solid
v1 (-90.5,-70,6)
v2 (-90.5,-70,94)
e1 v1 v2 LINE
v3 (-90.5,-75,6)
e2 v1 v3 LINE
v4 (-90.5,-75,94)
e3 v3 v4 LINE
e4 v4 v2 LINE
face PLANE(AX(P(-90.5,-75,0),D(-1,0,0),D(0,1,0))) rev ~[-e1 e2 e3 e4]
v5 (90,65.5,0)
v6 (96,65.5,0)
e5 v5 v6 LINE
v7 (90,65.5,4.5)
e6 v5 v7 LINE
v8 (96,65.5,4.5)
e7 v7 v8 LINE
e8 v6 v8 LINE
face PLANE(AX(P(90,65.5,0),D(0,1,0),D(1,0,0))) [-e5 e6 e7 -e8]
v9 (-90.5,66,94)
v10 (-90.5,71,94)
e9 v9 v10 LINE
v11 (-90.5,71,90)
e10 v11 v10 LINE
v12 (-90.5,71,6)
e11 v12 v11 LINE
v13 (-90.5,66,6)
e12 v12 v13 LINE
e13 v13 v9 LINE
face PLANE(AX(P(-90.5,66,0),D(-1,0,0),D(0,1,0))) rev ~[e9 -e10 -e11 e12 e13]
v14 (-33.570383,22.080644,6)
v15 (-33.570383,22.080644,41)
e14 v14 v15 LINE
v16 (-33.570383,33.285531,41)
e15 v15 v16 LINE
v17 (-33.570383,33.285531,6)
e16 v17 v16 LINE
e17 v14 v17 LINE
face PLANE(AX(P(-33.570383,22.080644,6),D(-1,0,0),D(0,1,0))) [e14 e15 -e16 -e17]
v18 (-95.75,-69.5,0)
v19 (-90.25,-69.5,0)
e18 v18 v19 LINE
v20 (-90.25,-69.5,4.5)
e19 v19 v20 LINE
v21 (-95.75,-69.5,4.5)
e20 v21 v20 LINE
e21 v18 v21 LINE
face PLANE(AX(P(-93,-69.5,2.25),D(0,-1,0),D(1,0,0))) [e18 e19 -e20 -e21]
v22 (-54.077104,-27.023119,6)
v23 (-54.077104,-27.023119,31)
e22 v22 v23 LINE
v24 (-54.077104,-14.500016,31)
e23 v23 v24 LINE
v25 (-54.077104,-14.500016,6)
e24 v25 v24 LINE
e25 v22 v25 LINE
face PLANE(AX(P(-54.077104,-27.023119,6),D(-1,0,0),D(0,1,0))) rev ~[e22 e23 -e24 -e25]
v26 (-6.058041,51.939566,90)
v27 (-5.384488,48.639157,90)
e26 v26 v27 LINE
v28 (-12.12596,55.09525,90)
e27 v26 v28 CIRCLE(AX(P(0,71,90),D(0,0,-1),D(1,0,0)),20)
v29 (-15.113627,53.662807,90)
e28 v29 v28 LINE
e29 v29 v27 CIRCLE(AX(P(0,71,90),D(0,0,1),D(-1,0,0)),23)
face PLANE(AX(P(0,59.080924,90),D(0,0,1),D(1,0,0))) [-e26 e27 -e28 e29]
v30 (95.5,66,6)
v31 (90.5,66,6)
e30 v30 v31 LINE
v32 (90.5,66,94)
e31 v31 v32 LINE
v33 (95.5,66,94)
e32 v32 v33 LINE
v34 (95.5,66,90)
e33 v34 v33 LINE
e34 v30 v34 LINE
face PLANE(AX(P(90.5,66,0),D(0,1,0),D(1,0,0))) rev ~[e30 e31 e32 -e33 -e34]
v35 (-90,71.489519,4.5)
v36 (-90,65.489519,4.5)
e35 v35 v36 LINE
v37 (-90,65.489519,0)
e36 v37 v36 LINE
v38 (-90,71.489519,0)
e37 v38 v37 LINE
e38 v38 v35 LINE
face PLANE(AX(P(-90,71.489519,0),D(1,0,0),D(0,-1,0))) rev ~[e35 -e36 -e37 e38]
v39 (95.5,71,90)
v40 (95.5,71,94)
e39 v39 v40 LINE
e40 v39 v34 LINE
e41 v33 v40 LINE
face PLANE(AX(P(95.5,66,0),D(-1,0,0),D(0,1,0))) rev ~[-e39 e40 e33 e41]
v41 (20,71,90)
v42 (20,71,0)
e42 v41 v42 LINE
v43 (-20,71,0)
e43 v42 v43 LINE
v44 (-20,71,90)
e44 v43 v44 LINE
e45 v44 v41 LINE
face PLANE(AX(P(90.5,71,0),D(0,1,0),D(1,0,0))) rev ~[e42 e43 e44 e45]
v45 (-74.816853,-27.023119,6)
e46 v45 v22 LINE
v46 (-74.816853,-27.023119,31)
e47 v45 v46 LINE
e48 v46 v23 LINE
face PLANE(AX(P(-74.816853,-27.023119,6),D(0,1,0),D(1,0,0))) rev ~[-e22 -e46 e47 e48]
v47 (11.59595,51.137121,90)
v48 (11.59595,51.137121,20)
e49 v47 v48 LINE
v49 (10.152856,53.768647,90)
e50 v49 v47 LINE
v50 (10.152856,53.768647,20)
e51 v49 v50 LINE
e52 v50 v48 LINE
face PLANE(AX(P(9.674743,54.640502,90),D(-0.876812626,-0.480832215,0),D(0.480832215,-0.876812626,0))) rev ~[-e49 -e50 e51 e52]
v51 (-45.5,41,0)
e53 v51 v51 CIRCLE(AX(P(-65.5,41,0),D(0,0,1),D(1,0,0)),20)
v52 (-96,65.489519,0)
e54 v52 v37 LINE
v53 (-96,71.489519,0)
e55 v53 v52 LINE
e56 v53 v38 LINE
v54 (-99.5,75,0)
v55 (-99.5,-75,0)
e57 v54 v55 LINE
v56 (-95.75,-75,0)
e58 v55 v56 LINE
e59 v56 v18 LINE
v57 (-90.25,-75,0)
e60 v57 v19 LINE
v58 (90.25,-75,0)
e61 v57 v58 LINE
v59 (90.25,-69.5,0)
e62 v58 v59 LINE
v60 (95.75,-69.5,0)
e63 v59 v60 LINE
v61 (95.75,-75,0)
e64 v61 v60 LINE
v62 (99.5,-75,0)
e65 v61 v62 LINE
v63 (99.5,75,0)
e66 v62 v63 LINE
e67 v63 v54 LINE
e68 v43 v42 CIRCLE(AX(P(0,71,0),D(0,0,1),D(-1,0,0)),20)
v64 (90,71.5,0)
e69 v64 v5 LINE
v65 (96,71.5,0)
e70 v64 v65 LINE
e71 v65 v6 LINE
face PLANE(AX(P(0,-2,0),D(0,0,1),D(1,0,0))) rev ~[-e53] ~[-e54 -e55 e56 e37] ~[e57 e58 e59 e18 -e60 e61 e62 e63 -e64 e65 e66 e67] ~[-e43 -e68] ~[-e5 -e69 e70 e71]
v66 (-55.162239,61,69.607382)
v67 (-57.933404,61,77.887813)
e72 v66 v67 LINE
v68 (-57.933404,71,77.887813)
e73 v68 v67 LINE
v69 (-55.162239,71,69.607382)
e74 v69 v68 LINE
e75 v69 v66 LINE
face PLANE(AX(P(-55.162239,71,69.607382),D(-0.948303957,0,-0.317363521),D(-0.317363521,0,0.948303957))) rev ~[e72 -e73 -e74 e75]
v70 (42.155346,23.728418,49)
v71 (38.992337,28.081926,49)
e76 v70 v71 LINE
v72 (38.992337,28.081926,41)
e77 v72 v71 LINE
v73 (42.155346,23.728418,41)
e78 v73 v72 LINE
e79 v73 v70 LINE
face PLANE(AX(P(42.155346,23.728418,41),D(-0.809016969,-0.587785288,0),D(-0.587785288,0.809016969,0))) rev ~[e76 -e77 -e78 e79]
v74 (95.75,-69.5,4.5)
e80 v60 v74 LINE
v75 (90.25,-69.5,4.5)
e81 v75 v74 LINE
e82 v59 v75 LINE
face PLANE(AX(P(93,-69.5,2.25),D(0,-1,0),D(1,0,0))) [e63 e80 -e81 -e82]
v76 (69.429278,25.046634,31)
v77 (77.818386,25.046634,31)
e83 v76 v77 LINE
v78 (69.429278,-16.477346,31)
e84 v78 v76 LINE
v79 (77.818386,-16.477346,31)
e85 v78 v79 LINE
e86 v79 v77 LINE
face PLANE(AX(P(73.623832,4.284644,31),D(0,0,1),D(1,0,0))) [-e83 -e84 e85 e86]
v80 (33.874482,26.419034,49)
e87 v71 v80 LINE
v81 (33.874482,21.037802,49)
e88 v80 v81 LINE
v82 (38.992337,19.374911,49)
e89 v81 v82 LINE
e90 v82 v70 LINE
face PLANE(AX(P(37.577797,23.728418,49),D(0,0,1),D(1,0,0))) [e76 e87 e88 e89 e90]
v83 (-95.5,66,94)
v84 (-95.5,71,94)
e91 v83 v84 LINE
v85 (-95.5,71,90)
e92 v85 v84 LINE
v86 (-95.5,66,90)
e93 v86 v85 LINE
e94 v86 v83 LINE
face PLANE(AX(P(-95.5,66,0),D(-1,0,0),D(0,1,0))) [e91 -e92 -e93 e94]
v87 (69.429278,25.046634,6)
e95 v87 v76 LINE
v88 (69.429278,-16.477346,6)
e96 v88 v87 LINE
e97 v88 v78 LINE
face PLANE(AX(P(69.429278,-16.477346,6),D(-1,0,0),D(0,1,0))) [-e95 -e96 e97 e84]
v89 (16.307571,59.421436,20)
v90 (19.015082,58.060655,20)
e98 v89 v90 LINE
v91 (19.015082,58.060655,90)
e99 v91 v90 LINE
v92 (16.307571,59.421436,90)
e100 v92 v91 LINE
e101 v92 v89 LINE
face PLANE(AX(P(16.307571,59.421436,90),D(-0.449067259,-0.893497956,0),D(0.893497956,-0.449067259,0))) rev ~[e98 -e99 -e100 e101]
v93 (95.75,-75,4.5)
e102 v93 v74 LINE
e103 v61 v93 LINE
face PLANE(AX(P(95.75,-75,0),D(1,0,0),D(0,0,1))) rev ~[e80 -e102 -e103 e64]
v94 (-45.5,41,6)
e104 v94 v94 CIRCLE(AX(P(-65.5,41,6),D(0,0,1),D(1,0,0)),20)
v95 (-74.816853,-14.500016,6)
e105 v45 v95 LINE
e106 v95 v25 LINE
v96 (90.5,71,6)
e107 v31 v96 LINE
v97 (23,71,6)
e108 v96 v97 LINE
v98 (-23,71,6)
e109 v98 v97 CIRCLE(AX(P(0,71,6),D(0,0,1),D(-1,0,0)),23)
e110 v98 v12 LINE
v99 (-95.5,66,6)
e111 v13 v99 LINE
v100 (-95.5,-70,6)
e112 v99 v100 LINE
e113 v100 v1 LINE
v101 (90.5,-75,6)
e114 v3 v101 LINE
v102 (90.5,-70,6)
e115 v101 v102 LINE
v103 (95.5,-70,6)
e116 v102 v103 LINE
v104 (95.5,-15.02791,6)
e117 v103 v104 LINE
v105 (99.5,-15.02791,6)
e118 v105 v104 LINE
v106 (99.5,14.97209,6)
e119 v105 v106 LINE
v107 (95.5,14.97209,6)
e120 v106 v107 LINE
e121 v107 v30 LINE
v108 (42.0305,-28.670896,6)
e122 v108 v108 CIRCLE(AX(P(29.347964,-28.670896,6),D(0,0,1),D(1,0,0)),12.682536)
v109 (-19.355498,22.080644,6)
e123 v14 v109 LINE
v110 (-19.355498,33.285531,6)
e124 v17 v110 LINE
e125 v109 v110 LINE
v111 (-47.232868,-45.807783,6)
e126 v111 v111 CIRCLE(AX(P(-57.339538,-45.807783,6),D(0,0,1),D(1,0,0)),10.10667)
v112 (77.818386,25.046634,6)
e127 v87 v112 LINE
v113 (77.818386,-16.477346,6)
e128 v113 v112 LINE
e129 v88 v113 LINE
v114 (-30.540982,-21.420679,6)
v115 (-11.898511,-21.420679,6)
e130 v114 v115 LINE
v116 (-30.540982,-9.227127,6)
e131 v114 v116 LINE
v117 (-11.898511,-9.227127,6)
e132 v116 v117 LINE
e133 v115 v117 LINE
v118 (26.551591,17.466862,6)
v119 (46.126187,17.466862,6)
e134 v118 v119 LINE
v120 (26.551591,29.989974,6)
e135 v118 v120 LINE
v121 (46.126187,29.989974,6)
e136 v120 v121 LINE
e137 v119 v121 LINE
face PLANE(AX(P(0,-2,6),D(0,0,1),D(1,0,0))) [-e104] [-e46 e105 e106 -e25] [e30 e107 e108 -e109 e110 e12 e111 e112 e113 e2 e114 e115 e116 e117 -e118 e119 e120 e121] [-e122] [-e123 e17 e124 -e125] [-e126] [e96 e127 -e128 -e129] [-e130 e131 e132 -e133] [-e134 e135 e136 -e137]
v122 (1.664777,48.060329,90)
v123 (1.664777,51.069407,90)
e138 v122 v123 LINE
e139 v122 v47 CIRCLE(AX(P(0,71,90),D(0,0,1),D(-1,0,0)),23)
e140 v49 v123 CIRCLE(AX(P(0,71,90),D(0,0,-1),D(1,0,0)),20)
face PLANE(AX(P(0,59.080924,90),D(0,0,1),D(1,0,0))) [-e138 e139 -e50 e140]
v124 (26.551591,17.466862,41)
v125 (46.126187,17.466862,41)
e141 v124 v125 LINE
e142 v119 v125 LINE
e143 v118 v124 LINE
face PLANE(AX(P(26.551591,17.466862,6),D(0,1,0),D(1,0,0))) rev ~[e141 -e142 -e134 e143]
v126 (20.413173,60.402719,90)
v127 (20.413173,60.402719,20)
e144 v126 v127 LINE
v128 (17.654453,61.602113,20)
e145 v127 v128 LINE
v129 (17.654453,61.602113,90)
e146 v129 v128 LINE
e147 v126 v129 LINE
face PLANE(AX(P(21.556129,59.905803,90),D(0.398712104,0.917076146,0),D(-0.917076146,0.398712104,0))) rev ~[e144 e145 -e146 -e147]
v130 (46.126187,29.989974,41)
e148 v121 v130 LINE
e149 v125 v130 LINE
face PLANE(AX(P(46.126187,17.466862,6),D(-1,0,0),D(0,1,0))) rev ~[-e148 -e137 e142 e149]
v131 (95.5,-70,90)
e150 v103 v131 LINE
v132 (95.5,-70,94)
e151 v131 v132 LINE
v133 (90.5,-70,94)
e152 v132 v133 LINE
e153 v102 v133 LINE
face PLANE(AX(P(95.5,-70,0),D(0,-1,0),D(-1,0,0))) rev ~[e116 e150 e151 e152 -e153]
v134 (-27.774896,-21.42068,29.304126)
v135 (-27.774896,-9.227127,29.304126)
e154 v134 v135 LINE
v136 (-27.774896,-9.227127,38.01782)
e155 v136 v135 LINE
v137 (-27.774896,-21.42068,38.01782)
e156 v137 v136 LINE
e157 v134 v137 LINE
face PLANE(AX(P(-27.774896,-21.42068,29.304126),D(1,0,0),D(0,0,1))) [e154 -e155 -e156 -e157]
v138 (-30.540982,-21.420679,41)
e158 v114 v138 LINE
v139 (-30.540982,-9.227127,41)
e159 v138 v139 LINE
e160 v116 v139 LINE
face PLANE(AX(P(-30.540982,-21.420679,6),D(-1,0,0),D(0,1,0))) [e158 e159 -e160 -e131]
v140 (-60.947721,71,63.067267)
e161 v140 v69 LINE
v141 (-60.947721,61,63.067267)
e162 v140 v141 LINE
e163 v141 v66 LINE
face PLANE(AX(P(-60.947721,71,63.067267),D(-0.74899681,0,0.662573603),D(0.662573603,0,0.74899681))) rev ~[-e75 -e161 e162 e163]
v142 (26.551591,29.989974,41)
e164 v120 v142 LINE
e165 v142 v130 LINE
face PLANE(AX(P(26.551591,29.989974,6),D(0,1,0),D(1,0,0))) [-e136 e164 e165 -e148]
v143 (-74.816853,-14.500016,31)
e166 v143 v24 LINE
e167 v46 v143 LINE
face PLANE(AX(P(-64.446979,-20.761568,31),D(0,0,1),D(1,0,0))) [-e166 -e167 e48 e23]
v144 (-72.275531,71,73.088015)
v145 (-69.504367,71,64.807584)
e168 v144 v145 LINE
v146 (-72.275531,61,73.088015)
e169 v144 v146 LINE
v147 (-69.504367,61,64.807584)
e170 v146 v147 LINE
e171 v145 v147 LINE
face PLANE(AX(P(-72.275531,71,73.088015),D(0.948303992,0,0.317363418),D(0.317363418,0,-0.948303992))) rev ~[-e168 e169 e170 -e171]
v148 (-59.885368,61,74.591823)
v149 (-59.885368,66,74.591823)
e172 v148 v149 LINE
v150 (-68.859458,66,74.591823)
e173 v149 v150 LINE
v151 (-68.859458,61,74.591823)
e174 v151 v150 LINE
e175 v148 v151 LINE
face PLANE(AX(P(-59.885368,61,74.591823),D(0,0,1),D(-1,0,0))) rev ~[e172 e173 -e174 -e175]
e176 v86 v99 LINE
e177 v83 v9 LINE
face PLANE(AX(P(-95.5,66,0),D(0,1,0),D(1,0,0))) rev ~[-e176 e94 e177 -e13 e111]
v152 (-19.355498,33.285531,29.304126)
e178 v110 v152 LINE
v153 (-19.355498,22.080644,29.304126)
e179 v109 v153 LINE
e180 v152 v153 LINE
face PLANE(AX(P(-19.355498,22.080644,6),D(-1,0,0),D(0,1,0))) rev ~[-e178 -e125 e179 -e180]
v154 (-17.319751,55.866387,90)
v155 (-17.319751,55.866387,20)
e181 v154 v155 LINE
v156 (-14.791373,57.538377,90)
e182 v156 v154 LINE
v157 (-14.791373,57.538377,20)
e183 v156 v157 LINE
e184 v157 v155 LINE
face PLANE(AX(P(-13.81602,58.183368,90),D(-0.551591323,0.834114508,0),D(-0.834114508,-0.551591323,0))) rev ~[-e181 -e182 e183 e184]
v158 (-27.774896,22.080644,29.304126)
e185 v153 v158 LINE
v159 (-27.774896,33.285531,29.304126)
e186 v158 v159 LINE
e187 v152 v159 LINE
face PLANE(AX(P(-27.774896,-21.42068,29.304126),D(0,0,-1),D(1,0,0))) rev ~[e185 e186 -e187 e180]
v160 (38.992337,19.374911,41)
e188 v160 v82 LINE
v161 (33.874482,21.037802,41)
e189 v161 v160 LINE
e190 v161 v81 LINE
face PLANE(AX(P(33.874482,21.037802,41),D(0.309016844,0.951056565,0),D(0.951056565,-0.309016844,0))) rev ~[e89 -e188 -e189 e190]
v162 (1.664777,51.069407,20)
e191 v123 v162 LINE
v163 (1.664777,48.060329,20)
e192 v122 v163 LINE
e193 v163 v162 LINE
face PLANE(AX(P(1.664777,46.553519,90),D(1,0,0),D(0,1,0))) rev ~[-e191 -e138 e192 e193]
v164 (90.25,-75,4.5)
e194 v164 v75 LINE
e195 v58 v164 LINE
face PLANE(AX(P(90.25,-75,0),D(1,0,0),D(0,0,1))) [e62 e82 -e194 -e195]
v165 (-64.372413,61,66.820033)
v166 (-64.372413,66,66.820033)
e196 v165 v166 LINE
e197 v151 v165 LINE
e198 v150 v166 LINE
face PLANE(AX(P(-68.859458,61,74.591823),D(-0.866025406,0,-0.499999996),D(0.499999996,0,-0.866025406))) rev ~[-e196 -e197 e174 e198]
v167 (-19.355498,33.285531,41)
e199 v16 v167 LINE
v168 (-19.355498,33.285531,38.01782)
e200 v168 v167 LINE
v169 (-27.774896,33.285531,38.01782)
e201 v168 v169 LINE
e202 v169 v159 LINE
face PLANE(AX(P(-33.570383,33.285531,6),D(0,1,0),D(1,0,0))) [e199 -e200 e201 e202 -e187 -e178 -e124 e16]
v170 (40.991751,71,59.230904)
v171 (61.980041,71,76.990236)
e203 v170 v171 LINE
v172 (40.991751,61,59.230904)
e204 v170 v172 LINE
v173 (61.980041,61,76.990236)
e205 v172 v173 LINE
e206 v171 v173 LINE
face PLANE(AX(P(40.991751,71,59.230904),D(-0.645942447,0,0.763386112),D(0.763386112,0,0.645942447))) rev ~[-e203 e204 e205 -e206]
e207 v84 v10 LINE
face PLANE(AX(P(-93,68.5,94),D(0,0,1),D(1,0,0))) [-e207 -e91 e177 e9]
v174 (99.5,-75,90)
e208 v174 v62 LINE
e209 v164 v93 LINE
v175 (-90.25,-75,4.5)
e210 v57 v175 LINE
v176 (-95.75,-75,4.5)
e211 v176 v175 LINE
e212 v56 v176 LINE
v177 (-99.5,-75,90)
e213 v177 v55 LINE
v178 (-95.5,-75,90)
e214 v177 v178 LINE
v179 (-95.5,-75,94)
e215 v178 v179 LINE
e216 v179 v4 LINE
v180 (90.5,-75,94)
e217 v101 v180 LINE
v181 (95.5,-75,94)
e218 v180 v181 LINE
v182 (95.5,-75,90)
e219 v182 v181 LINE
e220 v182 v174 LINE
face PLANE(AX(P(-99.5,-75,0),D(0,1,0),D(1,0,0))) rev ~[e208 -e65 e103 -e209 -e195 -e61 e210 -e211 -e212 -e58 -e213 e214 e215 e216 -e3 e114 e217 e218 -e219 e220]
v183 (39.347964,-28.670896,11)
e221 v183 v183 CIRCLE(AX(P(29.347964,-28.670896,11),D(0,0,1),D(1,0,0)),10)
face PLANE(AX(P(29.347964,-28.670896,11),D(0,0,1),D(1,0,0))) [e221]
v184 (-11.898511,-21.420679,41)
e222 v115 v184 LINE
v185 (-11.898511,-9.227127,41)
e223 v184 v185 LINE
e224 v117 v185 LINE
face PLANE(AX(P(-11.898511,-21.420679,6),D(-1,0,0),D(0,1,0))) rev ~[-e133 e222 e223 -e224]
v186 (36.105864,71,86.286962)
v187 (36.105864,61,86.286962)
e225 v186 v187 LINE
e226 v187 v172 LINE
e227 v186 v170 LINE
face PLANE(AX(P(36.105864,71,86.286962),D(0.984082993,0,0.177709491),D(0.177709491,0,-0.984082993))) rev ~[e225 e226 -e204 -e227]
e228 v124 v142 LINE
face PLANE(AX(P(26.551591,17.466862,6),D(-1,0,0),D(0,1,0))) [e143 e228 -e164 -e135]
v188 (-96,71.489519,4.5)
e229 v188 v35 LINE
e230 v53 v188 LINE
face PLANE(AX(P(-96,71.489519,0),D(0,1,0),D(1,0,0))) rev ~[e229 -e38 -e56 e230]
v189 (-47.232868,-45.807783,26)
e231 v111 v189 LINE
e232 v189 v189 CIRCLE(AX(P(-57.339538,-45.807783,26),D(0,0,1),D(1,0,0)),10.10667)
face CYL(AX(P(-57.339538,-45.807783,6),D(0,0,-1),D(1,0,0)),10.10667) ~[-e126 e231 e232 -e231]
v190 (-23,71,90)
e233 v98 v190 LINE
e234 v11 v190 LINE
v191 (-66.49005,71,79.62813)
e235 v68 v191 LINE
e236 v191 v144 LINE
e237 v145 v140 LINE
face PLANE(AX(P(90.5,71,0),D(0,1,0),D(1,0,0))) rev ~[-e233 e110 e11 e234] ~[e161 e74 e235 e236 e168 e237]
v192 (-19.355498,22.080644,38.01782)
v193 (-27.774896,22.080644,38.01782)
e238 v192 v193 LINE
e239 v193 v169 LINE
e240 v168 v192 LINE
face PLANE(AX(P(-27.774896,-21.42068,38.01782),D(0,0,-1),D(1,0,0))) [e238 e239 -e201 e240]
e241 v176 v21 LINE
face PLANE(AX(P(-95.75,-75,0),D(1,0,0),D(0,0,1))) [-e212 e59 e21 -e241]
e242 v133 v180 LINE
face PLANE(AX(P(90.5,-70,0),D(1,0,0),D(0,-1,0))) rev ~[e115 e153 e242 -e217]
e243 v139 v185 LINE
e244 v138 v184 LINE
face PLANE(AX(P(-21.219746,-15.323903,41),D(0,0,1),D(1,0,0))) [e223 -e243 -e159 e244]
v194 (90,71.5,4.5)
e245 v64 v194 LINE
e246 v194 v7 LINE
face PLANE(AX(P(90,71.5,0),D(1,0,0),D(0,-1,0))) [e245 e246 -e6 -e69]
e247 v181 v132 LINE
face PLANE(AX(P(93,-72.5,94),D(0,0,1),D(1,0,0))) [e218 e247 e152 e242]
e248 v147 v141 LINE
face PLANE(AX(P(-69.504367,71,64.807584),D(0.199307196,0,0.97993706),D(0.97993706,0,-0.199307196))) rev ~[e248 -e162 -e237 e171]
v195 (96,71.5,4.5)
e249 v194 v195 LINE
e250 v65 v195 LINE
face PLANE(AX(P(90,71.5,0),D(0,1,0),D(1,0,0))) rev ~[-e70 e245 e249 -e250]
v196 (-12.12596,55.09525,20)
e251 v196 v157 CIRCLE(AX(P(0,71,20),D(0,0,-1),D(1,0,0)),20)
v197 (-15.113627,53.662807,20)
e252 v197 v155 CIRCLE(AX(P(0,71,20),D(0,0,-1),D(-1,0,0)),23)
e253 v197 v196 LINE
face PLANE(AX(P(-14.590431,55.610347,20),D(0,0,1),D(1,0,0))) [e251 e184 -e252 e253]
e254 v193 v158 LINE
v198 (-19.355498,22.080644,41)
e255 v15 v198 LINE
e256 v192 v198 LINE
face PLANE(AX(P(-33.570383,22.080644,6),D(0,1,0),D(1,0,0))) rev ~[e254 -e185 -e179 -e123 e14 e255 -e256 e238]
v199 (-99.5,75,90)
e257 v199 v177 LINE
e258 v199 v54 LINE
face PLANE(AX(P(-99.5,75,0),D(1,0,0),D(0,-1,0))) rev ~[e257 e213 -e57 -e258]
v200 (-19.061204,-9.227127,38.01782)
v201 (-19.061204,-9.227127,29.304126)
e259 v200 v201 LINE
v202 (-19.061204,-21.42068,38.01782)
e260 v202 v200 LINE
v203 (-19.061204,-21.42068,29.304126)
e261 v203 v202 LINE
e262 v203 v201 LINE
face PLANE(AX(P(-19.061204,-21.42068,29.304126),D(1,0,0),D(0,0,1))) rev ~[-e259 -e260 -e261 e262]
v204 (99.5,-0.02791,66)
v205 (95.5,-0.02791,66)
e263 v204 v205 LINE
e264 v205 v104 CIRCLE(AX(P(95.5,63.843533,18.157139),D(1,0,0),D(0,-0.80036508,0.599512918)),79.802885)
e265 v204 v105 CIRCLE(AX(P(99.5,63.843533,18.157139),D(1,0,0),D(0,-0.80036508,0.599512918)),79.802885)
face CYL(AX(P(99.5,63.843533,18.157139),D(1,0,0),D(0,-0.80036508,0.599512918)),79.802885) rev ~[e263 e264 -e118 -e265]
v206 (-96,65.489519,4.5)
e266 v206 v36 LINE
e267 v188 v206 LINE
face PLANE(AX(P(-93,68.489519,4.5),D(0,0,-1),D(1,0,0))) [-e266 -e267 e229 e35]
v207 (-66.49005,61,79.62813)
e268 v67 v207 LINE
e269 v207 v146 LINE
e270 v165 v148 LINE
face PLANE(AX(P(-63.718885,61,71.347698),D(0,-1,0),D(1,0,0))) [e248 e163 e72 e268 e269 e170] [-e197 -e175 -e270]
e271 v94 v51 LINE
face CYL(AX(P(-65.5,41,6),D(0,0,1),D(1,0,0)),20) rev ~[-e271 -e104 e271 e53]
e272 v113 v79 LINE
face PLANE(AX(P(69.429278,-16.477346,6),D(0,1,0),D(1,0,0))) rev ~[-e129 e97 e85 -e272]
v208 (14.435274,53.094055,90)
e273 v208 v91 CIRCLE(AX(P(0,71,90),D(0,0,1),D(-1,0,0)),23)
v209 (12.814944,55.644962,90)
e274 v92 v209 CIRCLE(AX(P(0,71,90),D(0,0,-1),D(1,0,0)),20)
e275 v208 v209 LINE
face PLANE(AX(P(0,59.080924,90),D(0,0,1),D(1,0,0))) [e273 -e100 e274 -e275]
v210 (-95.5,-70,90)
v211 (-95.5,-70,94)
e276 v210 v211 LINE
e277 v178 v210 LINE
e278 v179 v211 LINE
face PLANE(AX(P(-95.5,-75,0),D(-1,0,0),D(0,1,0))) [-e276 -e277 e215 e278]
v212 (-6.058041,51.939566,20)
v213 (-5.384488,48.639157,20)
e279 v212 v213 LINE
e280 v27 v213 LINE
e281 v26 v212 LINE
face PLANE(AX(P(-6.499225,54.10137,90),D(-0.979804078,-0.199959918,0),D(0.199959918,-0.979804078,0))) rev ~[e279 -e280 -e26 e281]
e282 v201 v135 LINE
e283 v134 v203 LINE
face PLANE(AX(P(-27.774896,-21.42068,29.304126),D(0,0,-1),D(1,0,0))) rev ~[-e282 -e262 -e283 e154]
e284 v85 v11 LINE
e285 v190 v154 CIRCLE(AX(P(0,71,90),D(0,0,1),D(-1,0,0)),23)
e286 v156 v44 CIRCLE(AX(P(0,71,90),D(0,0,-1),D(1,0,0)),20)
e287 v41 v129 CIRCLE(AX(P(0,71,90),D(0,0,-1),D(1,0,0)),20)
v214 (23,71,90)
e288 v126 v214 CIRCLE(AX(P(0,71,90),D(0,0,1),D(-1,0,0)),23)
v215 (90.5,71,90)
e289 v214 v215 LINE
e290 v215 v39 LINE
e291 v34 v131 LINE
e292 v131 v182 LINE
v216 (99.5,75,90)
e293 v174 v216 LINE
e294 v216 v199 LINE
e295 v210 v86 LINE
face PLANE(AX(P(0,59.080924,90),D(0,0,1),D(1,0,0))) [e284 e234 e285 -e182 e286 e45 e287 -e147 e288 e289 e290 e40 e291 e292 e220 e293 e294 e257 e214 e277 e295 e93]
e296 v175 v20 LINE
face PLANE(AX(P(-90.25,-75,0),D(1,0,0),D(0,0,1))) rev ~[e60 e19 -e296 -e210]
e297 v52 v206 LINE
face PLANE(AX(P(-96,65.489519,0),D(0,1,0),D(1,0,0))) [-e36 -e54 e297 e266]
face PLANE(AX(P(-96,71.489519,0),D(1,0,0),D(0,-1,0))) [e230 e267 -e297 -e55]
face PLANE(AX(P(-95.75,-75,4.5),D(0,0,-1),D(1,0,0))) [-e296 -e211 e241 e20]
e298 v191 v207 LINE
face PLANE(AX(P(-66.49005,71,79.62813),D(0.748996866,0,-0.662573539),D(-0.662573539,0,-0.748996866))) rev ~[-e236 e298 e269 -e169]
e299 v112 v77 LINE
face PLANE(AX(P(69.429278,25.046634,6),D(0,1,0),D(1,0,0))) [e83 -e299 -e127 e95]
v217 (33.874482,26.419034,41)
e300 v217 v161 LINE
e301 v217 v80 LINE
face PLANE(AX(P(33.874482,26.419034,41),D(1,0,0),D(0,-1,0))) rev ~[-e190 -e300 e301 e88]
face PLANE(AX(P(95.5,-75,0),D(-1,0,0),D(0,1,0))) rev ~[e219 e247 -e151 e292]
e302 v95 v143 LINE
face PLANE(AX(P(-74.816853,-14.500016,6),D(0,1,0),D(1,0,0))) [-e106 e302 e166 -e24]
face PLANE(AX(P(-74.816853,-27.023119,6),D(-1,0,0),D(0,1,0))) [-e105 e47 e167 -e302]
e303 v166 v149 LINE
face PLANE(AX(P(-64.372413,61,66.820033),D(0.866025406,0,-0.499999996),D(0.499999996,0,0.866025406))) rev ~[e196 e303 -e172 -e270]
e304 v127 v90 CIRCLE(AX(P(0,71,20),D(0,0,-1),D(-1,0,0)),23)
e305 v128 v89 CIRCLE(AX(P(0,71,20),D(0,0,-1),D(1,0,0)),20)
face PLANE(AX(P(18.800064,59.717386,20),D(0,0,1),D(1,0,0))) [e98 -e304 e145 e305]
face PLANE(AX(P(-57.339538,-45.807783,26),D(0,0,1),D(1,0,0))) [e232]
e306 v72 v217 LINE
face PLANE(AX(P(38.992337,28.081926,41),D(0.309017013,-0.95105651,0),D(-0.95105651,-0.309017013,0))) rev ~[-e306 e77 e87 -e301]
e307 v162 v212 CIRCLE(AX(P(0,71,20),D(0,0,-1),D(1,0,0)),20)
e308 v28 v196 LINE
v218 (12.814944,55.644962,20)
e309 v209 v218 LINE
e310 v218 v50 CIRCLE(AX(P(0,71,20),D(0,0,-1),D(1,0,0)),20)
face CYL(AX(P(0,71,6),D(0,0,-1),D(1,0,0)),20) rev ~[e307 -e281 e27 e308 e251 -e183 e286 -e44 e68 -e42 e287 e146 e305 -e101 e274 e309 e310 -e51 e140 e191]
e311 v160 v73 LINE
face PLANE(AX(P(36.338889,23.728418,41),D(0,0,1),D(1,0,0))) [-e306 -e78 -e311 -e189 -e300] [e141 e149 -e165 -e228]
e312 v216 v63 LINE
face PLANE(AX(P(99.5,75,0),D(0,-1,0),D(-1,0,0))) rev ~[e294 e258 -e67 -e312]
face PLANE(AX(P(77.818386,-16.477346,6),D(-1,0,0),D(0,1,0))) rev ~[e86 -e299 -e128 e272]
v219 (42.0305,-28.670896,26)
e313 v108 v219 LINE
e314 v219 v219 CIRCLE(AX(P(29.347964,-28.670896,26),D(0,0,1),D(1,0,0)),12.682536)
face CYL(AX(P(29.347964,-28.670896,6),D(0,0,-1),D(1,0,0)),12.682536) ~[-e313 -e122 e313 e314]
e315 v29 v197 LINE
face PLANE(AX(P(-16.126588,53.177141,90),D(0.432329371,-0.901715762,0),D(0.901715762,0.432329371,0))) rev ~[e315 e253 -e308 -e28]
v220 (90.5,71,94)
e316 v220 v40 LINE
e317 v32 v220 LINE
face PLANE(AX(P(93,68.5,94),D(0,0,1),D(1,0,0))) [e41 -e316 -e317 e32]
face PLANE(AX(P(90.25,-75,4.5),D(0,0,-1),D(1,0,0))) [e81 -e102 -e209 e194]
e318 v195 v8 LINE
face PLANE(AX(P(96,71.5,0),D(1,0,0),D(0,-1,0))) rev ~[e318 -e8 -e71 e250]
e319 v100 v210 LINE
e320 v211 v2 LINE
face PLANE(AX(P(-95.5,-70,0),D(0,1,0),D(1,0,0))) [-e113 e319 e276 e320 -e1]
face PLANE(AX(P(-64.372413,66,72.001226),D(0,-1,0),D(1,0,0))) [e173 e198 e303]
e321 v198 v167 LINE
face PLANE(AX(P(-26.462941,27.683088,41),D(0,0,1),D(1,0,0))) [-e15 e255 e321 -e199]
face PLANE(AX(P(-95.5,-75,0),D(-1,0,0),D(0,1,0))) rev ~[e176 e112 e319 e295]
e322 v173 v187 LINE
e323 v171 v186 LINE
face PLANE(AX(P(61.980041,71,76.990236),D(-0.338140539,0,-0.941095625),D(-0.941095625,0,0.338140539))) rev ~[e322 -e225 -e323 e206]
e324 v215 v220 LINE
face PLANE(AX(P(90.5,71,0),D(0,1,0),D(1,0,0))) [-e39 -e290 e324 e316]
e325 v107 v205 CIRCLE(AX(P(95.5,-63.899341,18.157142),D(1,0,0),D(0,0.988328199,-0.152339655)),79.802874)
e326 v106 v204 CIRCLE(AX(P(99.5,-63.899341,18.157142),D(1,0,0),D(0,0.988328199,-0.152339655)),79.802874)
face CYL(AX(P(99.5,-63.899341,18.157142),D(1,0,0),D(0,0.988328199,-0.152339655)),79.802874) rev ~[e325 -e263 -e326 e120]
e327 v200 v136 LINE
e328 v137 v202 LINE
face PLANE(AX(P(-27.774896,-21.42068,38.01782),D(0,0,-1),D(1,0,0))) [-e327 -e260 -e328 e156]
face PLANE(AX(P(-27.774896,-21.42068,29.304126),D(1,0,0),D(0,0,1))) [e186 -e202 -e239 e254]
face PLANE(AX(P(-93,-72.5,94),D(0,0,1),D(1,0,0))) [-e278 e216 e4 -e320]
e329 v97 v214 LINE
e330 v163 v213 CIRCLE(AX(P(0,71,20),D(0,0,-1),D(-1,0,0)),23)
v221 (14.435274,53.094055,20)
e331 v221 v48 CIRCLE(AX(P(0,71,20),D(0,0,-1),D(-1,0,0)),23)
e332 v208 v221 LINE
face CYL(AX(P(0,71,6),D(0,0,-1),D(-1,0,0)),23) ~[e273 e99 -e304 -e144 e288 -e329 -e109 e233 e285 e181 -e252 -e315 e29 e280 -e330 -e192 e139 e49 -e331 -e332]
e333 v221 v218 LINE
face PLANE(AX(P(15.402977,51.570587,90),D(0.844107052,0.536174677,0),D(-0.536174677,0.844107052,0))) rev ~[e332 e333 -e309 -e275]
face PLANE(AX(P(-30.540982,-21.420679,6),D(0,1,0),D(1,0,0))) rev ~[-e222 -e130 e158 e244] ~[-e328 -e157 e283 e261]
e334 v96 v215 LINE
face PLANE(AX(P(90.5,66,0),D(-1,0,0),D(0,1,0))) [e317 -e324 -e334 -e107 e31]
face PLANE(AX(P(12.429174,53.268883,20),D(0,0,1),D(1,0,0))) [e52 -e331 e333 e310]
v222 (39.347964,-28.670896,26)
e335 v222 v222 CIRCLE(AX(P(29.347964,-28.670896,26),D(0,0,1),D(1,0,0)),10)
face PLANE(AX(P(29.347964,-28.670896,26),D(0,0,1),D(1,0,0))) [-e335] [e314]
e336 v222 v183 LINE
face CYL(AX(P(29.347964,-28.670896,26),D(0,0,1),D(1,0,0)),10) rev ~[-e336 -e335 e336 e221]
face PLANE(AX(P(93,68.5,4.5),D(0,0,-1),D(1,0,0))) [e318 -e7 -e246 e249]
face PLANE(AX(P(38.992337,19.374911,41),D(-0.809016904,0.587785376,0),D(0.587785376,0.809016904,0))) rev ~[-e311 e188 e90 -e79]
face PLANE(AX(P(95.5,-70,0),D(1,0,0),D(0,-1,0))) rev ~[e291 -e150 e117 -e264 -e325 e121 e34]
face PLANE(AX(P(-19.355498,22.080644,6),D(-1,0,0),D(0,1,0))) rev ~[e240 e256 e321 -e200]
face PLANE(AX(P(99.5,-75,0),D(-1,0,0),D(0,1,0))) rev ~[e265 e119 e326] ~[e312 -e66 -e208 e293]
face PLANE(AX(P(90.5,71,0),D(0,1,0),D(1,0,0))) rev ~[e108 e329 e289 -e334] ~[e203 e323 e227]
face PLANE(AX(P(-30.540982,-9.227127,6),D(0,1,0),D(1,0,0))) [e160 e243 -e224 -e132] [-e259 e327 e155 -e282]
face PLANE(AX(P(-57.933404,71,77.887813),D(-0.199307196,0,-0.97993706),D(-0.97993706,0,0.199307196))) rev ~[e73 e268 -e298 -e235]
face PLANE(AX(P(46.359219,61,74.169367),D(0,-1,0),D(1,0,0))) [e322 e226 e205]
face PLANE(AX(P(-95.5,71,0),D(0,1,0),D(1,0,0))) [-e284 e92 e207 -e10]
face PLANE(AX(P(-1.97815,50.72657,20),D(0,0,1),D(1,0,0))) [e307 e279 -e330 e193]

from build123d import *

# Parameters (mm, degrees)
F1_DEPTH  = 6
F2_DEPTH  = 90
F0_W      = 5
F0_H      = 5
F3_DEPTH  = 94
F4_W      = 5.5
F4_H      = 4.5
F5_DEPTH  = 5.5
F6_DEPTH  = 5.5
F7_R      = 20
F8_DEPTH  = 7
F9_DEPTH  = 6
F10_DEPTH = 84
F12_DEPTH = 4
F13_DEPTH = 5.5
F14_DEPTH = 25
F15_W     = 6
F15_H     = 6
F16_DEPTH = 4.5
F17_W     = 6
F17_H     = 6
F18_DEPTH = 4.5
F19_W     = 20.739749
F19_H     = 12.523103
F19_W_2   = 8.389108
F19_H_2   = 41.523981
F20_DEPTH = 25
F19_W_3   = 14.214885
F19_H_3   = 11.204887
F19_W_4   = 18.642471
F19_H_4   = 12.193553
F19_W_5   = 19.574596
F19_H_5   = 12.523113
F21_DEPTH = 35
F22_R     = 12.682536
F22_R_2   = 10.10667
F23_DEPTH = 20
F25_DEPTH = 10
F26_R     = 10
F27_DEPTH = 15
F28_W     = 8.713692
F28_H     = 8.713695
F29_DEPTH = 55
F31_DEPTH = 10
F33_DEPTH = 8
F35_DEPTH = 5
F37_DEPTH = 70


with BuildPart() as f1:
    # F0 (on Top) → F1 (new body)
    with BuildSketch(Plane.XY):
        Polygon((-90.5, -70), (-90.5, -75), (90.5, -75), (90.5, -70), (95.5, -70), (95.5, -66), (95.5, 66), (90.5, 66), (90.5, 71), (-90.5, 71), (-90.5, 66), (-95.5, 66), (-95.5, -66), (-95.5, -70), align=None)
        Polygon((99.5, 75), (-99.5, 75), (-99.5, -75), (-95.5, -75), (-95.5, -70), (-95.5, -66), (-95.5, 66), (-95.5, 71), (-90.5, 71), (90.5, 71), (95.5, 71), (95.5, 66), (95.5, -66), (95.5, -70), (95.5, -71), (95.5, -75), (99.5, -75), align=None)
    extrude(amount=F1_DEPTH)

    # F0 (on Top) → F2 (join)
    with BuildSketch(Plane.XY):
        Polygon((99.5, 75), (-99.5, 75), (-99.5, -75), (-95.5, -75), (-95.5, -70), (-95.5, -66), (-95.5, 66), (-95.5, 71), (-90.5, 71), (90.5, 71), (95.5, 71), (95.5, 66), (95.5, -66), (95.5, -70), (95.5, -71), (95.5, -75), (99.5, -75), align=None)
    extrude(amount=F2_DEPTH)

    # F0 (on Top) → F3 (join)
    with BuildSketch(Plane.XY):
        with Locations((-93, 68.5)):
            Rectangle(F0_W, F0_H)
        with Locations((93, 68.5)):
            Rectangle(F0_W, F0_H)
        Polygon((90.5, -75), (95.5, -75), (95.5, -71), (95.5, -70), (90.5, -70), align=None)
        with Locations((-93, -72.5)):
            Rectangle(F0_W, F0_H)
    extrude(amount=F3_DEPTH)

    # F4 (on face) → F5 (cut)
    with BuildSketch(Plane.XZ.offset(75)):
        with Locations((93, 2.25)):
            Rectangle(F4_W, F4_H)
    extrude(amount=-F5_DEPTH, mode=Mode.SUBTRACT)

    # F4 (on face) → F6 (cut)
    with BuildSketch(Plane.XZ.offset(75)):
        with Locations((-93, 2.25)):
            Rectangle(F4_W, F4_H)
    extrude(amount=F6_DEPTH, mode=Mode.SUBTRACT)

    # F7 (on face) → F8 (cut)
    with BuildSketch(Plane.XY.offset(6)):
        with Locations((-65.5, 41)):
            Circle(F7_R)
    extrude(amount=-F8_DEPTH, mode=Mode.SUBTRACT)

    # F7 (on face) → F9 (cut)
    with BuildSketch(Plane.XY.offset(6)):
        with BuildLine():
            Line((20, 71), (-20, 71))
            ThreePointArc((-20, 71), (0, 51), (20, 71))
        make_face()
    extrude(amount=-F9_DEPTH, mode=Mode.SUBTRACT)

    # F7 (on face) → F10 (join)
    with BuildSketch(Plane.XY.offset(6)):
        with BuildLine():
            Line((-20, 71), (-23, 71))
            ThreePointArc((-23, 71), (0, 48), (23, 71))
            Line((23, 71), (20, 71))
            ThreePointArc((20, 71), (0, 51), (-20, 71))
        make_face()
    extrude(amount=F10_DEPTH)

    # F11 (on face) → F12 (cut)
    with BuildSketch(Plane.YZ.offset(99.5)):
        with BuildLine():
            Line((-15.02791, 6), (14.97209, 6))
            ThreePointArc((14.97209, 6), (13.520819, 37.512182), (-0.02791, 66))
            ThreePointArc((-0.02791, 66), (-13.576638, 37.512182), (-15.02791, 6))
        make_face()
    extrude(amount=-F12_DEPTH, mode=Mode.SUBTRACT)

    # F4 (on face) → F13 (cut)
    with BuildSketch(Plane.XZ.offset(75)):
        with Locations((-93, 2.25)):
            Rectangle(F4_W, F4_H)
    extrude(amount=-F13_DEPTH, mode=Mode.SUBTRACT)

    # F0 (on Top) → F14 (join)
    with BuildSketch(Plane.XY):
        with Locations((-93, 68.5)):
            Rectangle(F0_W, F0_H)
    extrude(amount=F14_DEPTH)

    # F15 (on face) → F16 (cut)
    with BuildSketch(Plane(origin=(0, 0, 0), x_dir=(1, 0, 0), z_dir=(0, 0, -1))):
        with Locations((-93, -68.489519)):
            Rectangle(F15_W, F15_H)
    extrude(amount=-F16_DEPTH, mode=Mode.SUBTRACT)

    # F17 (on face) → F18 (cut)
    with BuildSketch(Plane(origin=(0, 0, 0), x_dir=(1, 0, 0), z_dir=(0, 0, -1))):
        with Locations((93, -68.5)):
            Rectangle(F17_W, F17_H)
    extrude(amount=-F18_DEPTH, mode=Mode.SUBTRACT)

    # F19 (on face) → F20 (join)
    with BuildSketch(Plane.XY.offset(6)):
        with Locations((-64.446979, -20.761568)):
            Rectangle(F19_W, F19_H)
        with Locations((73.623832, 4.284644)):
            Rectangle(F19_W_2, F19_H_2)
    extrude(amount=F20_DEPTH)

    # F19 (on face) → F21 (join)
    with BuildSketch(Plane.XY.offset(6)):
        with Locations((-26.462941, 27.683088)):
            Rectangle(F19_W_3, F19_H_3)
        with Locations((-21.219746, -15.323903)):
            Rectangle(F19_W_4, F19_H_4)
        with Locations((36.338889, 23.728418)):
            Rectangle(F19_W_5, F19_H_5)
    extrude(amount=F21_DEPTH)

    # F22 (on face) → F23 (join)
    with BuildSketch(Plane.XY.offset(6)):
        with Locations((29.347964, -28.670896)):
            Circle(F22_R)
        with Locations((-57.339538, -45.807783)):
            Circle(F22_R_2)
    extrude(amount=F23_DEPTH)

    # F24 (on face) → F25 (join)
    with BuildSketch(Plane.XZ.offset(-71)):
        Polygon((40.991751, 59.230904), (61.980041, 76.990236), (36.105864, 86.286962), align=None)
    extrude(amount=F25_DEPTH)

    # F26 (on face) → F27 (cut)
    with BuildSketch(Plane.XY.offset(26)):
        with Locations((29.347964, -28.670896)):
            Circle(F26_R)
    extrude(amount=-F27_DEPTH, mode=Mode.SUBTRACT)

    # F28 (on face) → F29 (cut)
    with BuildSketch(Plane.XZ.offset(21.42068)):
        with Locations((-23.41805, 33.660973)):
            Rectangle(F28_W, F28_H)
    extrude(amount=-F29_DEPTH, mode=Mode.SUBTRACT)

    # F30 (on face) → F31 (join)
    with BuildSketch(Plane.XZ.offset(-71)):
        Polygon((-60.947721, 63.067267), (-55.162239, 69.607382), (-57.933404, 77.887813), (-66.49005, 79.62813), (-72.275531, 73.088015), (-69.504367, 64.807584), align=None)
    extrude(amount=F31_DEPTH)

    # F32 (on face) → F33 (join)
    with BuildSketch(Plane.XY.offset(41)):
        Polygon((33.874482, 26.419034), (33.874482, 21.037802), (38.992337, 19.374911), (42.155346, 23.728418), (38.992337, 28.081926), align=None)
    extrude(amount=F33_DEPTH)

    # F34 (on face) → F35 (cut)
    with BuildSketch(Plane.XZ.offset(-61)):
        Polygon((-59.885368, 74.591823), (-68.859458, 74.591823), (-64.372413, 66.820033), align=None)
    extrude(amount=-F35_DEPTH, mode=Mode.SUBTRACT)

    # F36 (on face) → F37 (cut)
    with BuildSketch(Plane.XY.offset(90)):
        Polygon((1.664777, 54.871559), (-6.499225, 54.10137), (-4.958848, 46.553519), (1.664777, 46.553519), align=None)
        Polygon((11.985309, 56.951068), (9.674743, 54.640502), (12.293384, 49.865328), (15.402977, 51.570587), align=None)
        Polygon((-10.504208, 55.872802), (-13.81602, 58.183368), (-18.591192, 55.025596), (-16.126588, 53.177141), align=None)
        Polygon((16.837498, 61.957296), (16.307571, 59.421436), (20.30335, 57.413179), (21.556129, 59.905803), align=None)
    extrude(amount=-F37_DEPTH, mode=Mode.SUBTRACT)


solid = f1.part
